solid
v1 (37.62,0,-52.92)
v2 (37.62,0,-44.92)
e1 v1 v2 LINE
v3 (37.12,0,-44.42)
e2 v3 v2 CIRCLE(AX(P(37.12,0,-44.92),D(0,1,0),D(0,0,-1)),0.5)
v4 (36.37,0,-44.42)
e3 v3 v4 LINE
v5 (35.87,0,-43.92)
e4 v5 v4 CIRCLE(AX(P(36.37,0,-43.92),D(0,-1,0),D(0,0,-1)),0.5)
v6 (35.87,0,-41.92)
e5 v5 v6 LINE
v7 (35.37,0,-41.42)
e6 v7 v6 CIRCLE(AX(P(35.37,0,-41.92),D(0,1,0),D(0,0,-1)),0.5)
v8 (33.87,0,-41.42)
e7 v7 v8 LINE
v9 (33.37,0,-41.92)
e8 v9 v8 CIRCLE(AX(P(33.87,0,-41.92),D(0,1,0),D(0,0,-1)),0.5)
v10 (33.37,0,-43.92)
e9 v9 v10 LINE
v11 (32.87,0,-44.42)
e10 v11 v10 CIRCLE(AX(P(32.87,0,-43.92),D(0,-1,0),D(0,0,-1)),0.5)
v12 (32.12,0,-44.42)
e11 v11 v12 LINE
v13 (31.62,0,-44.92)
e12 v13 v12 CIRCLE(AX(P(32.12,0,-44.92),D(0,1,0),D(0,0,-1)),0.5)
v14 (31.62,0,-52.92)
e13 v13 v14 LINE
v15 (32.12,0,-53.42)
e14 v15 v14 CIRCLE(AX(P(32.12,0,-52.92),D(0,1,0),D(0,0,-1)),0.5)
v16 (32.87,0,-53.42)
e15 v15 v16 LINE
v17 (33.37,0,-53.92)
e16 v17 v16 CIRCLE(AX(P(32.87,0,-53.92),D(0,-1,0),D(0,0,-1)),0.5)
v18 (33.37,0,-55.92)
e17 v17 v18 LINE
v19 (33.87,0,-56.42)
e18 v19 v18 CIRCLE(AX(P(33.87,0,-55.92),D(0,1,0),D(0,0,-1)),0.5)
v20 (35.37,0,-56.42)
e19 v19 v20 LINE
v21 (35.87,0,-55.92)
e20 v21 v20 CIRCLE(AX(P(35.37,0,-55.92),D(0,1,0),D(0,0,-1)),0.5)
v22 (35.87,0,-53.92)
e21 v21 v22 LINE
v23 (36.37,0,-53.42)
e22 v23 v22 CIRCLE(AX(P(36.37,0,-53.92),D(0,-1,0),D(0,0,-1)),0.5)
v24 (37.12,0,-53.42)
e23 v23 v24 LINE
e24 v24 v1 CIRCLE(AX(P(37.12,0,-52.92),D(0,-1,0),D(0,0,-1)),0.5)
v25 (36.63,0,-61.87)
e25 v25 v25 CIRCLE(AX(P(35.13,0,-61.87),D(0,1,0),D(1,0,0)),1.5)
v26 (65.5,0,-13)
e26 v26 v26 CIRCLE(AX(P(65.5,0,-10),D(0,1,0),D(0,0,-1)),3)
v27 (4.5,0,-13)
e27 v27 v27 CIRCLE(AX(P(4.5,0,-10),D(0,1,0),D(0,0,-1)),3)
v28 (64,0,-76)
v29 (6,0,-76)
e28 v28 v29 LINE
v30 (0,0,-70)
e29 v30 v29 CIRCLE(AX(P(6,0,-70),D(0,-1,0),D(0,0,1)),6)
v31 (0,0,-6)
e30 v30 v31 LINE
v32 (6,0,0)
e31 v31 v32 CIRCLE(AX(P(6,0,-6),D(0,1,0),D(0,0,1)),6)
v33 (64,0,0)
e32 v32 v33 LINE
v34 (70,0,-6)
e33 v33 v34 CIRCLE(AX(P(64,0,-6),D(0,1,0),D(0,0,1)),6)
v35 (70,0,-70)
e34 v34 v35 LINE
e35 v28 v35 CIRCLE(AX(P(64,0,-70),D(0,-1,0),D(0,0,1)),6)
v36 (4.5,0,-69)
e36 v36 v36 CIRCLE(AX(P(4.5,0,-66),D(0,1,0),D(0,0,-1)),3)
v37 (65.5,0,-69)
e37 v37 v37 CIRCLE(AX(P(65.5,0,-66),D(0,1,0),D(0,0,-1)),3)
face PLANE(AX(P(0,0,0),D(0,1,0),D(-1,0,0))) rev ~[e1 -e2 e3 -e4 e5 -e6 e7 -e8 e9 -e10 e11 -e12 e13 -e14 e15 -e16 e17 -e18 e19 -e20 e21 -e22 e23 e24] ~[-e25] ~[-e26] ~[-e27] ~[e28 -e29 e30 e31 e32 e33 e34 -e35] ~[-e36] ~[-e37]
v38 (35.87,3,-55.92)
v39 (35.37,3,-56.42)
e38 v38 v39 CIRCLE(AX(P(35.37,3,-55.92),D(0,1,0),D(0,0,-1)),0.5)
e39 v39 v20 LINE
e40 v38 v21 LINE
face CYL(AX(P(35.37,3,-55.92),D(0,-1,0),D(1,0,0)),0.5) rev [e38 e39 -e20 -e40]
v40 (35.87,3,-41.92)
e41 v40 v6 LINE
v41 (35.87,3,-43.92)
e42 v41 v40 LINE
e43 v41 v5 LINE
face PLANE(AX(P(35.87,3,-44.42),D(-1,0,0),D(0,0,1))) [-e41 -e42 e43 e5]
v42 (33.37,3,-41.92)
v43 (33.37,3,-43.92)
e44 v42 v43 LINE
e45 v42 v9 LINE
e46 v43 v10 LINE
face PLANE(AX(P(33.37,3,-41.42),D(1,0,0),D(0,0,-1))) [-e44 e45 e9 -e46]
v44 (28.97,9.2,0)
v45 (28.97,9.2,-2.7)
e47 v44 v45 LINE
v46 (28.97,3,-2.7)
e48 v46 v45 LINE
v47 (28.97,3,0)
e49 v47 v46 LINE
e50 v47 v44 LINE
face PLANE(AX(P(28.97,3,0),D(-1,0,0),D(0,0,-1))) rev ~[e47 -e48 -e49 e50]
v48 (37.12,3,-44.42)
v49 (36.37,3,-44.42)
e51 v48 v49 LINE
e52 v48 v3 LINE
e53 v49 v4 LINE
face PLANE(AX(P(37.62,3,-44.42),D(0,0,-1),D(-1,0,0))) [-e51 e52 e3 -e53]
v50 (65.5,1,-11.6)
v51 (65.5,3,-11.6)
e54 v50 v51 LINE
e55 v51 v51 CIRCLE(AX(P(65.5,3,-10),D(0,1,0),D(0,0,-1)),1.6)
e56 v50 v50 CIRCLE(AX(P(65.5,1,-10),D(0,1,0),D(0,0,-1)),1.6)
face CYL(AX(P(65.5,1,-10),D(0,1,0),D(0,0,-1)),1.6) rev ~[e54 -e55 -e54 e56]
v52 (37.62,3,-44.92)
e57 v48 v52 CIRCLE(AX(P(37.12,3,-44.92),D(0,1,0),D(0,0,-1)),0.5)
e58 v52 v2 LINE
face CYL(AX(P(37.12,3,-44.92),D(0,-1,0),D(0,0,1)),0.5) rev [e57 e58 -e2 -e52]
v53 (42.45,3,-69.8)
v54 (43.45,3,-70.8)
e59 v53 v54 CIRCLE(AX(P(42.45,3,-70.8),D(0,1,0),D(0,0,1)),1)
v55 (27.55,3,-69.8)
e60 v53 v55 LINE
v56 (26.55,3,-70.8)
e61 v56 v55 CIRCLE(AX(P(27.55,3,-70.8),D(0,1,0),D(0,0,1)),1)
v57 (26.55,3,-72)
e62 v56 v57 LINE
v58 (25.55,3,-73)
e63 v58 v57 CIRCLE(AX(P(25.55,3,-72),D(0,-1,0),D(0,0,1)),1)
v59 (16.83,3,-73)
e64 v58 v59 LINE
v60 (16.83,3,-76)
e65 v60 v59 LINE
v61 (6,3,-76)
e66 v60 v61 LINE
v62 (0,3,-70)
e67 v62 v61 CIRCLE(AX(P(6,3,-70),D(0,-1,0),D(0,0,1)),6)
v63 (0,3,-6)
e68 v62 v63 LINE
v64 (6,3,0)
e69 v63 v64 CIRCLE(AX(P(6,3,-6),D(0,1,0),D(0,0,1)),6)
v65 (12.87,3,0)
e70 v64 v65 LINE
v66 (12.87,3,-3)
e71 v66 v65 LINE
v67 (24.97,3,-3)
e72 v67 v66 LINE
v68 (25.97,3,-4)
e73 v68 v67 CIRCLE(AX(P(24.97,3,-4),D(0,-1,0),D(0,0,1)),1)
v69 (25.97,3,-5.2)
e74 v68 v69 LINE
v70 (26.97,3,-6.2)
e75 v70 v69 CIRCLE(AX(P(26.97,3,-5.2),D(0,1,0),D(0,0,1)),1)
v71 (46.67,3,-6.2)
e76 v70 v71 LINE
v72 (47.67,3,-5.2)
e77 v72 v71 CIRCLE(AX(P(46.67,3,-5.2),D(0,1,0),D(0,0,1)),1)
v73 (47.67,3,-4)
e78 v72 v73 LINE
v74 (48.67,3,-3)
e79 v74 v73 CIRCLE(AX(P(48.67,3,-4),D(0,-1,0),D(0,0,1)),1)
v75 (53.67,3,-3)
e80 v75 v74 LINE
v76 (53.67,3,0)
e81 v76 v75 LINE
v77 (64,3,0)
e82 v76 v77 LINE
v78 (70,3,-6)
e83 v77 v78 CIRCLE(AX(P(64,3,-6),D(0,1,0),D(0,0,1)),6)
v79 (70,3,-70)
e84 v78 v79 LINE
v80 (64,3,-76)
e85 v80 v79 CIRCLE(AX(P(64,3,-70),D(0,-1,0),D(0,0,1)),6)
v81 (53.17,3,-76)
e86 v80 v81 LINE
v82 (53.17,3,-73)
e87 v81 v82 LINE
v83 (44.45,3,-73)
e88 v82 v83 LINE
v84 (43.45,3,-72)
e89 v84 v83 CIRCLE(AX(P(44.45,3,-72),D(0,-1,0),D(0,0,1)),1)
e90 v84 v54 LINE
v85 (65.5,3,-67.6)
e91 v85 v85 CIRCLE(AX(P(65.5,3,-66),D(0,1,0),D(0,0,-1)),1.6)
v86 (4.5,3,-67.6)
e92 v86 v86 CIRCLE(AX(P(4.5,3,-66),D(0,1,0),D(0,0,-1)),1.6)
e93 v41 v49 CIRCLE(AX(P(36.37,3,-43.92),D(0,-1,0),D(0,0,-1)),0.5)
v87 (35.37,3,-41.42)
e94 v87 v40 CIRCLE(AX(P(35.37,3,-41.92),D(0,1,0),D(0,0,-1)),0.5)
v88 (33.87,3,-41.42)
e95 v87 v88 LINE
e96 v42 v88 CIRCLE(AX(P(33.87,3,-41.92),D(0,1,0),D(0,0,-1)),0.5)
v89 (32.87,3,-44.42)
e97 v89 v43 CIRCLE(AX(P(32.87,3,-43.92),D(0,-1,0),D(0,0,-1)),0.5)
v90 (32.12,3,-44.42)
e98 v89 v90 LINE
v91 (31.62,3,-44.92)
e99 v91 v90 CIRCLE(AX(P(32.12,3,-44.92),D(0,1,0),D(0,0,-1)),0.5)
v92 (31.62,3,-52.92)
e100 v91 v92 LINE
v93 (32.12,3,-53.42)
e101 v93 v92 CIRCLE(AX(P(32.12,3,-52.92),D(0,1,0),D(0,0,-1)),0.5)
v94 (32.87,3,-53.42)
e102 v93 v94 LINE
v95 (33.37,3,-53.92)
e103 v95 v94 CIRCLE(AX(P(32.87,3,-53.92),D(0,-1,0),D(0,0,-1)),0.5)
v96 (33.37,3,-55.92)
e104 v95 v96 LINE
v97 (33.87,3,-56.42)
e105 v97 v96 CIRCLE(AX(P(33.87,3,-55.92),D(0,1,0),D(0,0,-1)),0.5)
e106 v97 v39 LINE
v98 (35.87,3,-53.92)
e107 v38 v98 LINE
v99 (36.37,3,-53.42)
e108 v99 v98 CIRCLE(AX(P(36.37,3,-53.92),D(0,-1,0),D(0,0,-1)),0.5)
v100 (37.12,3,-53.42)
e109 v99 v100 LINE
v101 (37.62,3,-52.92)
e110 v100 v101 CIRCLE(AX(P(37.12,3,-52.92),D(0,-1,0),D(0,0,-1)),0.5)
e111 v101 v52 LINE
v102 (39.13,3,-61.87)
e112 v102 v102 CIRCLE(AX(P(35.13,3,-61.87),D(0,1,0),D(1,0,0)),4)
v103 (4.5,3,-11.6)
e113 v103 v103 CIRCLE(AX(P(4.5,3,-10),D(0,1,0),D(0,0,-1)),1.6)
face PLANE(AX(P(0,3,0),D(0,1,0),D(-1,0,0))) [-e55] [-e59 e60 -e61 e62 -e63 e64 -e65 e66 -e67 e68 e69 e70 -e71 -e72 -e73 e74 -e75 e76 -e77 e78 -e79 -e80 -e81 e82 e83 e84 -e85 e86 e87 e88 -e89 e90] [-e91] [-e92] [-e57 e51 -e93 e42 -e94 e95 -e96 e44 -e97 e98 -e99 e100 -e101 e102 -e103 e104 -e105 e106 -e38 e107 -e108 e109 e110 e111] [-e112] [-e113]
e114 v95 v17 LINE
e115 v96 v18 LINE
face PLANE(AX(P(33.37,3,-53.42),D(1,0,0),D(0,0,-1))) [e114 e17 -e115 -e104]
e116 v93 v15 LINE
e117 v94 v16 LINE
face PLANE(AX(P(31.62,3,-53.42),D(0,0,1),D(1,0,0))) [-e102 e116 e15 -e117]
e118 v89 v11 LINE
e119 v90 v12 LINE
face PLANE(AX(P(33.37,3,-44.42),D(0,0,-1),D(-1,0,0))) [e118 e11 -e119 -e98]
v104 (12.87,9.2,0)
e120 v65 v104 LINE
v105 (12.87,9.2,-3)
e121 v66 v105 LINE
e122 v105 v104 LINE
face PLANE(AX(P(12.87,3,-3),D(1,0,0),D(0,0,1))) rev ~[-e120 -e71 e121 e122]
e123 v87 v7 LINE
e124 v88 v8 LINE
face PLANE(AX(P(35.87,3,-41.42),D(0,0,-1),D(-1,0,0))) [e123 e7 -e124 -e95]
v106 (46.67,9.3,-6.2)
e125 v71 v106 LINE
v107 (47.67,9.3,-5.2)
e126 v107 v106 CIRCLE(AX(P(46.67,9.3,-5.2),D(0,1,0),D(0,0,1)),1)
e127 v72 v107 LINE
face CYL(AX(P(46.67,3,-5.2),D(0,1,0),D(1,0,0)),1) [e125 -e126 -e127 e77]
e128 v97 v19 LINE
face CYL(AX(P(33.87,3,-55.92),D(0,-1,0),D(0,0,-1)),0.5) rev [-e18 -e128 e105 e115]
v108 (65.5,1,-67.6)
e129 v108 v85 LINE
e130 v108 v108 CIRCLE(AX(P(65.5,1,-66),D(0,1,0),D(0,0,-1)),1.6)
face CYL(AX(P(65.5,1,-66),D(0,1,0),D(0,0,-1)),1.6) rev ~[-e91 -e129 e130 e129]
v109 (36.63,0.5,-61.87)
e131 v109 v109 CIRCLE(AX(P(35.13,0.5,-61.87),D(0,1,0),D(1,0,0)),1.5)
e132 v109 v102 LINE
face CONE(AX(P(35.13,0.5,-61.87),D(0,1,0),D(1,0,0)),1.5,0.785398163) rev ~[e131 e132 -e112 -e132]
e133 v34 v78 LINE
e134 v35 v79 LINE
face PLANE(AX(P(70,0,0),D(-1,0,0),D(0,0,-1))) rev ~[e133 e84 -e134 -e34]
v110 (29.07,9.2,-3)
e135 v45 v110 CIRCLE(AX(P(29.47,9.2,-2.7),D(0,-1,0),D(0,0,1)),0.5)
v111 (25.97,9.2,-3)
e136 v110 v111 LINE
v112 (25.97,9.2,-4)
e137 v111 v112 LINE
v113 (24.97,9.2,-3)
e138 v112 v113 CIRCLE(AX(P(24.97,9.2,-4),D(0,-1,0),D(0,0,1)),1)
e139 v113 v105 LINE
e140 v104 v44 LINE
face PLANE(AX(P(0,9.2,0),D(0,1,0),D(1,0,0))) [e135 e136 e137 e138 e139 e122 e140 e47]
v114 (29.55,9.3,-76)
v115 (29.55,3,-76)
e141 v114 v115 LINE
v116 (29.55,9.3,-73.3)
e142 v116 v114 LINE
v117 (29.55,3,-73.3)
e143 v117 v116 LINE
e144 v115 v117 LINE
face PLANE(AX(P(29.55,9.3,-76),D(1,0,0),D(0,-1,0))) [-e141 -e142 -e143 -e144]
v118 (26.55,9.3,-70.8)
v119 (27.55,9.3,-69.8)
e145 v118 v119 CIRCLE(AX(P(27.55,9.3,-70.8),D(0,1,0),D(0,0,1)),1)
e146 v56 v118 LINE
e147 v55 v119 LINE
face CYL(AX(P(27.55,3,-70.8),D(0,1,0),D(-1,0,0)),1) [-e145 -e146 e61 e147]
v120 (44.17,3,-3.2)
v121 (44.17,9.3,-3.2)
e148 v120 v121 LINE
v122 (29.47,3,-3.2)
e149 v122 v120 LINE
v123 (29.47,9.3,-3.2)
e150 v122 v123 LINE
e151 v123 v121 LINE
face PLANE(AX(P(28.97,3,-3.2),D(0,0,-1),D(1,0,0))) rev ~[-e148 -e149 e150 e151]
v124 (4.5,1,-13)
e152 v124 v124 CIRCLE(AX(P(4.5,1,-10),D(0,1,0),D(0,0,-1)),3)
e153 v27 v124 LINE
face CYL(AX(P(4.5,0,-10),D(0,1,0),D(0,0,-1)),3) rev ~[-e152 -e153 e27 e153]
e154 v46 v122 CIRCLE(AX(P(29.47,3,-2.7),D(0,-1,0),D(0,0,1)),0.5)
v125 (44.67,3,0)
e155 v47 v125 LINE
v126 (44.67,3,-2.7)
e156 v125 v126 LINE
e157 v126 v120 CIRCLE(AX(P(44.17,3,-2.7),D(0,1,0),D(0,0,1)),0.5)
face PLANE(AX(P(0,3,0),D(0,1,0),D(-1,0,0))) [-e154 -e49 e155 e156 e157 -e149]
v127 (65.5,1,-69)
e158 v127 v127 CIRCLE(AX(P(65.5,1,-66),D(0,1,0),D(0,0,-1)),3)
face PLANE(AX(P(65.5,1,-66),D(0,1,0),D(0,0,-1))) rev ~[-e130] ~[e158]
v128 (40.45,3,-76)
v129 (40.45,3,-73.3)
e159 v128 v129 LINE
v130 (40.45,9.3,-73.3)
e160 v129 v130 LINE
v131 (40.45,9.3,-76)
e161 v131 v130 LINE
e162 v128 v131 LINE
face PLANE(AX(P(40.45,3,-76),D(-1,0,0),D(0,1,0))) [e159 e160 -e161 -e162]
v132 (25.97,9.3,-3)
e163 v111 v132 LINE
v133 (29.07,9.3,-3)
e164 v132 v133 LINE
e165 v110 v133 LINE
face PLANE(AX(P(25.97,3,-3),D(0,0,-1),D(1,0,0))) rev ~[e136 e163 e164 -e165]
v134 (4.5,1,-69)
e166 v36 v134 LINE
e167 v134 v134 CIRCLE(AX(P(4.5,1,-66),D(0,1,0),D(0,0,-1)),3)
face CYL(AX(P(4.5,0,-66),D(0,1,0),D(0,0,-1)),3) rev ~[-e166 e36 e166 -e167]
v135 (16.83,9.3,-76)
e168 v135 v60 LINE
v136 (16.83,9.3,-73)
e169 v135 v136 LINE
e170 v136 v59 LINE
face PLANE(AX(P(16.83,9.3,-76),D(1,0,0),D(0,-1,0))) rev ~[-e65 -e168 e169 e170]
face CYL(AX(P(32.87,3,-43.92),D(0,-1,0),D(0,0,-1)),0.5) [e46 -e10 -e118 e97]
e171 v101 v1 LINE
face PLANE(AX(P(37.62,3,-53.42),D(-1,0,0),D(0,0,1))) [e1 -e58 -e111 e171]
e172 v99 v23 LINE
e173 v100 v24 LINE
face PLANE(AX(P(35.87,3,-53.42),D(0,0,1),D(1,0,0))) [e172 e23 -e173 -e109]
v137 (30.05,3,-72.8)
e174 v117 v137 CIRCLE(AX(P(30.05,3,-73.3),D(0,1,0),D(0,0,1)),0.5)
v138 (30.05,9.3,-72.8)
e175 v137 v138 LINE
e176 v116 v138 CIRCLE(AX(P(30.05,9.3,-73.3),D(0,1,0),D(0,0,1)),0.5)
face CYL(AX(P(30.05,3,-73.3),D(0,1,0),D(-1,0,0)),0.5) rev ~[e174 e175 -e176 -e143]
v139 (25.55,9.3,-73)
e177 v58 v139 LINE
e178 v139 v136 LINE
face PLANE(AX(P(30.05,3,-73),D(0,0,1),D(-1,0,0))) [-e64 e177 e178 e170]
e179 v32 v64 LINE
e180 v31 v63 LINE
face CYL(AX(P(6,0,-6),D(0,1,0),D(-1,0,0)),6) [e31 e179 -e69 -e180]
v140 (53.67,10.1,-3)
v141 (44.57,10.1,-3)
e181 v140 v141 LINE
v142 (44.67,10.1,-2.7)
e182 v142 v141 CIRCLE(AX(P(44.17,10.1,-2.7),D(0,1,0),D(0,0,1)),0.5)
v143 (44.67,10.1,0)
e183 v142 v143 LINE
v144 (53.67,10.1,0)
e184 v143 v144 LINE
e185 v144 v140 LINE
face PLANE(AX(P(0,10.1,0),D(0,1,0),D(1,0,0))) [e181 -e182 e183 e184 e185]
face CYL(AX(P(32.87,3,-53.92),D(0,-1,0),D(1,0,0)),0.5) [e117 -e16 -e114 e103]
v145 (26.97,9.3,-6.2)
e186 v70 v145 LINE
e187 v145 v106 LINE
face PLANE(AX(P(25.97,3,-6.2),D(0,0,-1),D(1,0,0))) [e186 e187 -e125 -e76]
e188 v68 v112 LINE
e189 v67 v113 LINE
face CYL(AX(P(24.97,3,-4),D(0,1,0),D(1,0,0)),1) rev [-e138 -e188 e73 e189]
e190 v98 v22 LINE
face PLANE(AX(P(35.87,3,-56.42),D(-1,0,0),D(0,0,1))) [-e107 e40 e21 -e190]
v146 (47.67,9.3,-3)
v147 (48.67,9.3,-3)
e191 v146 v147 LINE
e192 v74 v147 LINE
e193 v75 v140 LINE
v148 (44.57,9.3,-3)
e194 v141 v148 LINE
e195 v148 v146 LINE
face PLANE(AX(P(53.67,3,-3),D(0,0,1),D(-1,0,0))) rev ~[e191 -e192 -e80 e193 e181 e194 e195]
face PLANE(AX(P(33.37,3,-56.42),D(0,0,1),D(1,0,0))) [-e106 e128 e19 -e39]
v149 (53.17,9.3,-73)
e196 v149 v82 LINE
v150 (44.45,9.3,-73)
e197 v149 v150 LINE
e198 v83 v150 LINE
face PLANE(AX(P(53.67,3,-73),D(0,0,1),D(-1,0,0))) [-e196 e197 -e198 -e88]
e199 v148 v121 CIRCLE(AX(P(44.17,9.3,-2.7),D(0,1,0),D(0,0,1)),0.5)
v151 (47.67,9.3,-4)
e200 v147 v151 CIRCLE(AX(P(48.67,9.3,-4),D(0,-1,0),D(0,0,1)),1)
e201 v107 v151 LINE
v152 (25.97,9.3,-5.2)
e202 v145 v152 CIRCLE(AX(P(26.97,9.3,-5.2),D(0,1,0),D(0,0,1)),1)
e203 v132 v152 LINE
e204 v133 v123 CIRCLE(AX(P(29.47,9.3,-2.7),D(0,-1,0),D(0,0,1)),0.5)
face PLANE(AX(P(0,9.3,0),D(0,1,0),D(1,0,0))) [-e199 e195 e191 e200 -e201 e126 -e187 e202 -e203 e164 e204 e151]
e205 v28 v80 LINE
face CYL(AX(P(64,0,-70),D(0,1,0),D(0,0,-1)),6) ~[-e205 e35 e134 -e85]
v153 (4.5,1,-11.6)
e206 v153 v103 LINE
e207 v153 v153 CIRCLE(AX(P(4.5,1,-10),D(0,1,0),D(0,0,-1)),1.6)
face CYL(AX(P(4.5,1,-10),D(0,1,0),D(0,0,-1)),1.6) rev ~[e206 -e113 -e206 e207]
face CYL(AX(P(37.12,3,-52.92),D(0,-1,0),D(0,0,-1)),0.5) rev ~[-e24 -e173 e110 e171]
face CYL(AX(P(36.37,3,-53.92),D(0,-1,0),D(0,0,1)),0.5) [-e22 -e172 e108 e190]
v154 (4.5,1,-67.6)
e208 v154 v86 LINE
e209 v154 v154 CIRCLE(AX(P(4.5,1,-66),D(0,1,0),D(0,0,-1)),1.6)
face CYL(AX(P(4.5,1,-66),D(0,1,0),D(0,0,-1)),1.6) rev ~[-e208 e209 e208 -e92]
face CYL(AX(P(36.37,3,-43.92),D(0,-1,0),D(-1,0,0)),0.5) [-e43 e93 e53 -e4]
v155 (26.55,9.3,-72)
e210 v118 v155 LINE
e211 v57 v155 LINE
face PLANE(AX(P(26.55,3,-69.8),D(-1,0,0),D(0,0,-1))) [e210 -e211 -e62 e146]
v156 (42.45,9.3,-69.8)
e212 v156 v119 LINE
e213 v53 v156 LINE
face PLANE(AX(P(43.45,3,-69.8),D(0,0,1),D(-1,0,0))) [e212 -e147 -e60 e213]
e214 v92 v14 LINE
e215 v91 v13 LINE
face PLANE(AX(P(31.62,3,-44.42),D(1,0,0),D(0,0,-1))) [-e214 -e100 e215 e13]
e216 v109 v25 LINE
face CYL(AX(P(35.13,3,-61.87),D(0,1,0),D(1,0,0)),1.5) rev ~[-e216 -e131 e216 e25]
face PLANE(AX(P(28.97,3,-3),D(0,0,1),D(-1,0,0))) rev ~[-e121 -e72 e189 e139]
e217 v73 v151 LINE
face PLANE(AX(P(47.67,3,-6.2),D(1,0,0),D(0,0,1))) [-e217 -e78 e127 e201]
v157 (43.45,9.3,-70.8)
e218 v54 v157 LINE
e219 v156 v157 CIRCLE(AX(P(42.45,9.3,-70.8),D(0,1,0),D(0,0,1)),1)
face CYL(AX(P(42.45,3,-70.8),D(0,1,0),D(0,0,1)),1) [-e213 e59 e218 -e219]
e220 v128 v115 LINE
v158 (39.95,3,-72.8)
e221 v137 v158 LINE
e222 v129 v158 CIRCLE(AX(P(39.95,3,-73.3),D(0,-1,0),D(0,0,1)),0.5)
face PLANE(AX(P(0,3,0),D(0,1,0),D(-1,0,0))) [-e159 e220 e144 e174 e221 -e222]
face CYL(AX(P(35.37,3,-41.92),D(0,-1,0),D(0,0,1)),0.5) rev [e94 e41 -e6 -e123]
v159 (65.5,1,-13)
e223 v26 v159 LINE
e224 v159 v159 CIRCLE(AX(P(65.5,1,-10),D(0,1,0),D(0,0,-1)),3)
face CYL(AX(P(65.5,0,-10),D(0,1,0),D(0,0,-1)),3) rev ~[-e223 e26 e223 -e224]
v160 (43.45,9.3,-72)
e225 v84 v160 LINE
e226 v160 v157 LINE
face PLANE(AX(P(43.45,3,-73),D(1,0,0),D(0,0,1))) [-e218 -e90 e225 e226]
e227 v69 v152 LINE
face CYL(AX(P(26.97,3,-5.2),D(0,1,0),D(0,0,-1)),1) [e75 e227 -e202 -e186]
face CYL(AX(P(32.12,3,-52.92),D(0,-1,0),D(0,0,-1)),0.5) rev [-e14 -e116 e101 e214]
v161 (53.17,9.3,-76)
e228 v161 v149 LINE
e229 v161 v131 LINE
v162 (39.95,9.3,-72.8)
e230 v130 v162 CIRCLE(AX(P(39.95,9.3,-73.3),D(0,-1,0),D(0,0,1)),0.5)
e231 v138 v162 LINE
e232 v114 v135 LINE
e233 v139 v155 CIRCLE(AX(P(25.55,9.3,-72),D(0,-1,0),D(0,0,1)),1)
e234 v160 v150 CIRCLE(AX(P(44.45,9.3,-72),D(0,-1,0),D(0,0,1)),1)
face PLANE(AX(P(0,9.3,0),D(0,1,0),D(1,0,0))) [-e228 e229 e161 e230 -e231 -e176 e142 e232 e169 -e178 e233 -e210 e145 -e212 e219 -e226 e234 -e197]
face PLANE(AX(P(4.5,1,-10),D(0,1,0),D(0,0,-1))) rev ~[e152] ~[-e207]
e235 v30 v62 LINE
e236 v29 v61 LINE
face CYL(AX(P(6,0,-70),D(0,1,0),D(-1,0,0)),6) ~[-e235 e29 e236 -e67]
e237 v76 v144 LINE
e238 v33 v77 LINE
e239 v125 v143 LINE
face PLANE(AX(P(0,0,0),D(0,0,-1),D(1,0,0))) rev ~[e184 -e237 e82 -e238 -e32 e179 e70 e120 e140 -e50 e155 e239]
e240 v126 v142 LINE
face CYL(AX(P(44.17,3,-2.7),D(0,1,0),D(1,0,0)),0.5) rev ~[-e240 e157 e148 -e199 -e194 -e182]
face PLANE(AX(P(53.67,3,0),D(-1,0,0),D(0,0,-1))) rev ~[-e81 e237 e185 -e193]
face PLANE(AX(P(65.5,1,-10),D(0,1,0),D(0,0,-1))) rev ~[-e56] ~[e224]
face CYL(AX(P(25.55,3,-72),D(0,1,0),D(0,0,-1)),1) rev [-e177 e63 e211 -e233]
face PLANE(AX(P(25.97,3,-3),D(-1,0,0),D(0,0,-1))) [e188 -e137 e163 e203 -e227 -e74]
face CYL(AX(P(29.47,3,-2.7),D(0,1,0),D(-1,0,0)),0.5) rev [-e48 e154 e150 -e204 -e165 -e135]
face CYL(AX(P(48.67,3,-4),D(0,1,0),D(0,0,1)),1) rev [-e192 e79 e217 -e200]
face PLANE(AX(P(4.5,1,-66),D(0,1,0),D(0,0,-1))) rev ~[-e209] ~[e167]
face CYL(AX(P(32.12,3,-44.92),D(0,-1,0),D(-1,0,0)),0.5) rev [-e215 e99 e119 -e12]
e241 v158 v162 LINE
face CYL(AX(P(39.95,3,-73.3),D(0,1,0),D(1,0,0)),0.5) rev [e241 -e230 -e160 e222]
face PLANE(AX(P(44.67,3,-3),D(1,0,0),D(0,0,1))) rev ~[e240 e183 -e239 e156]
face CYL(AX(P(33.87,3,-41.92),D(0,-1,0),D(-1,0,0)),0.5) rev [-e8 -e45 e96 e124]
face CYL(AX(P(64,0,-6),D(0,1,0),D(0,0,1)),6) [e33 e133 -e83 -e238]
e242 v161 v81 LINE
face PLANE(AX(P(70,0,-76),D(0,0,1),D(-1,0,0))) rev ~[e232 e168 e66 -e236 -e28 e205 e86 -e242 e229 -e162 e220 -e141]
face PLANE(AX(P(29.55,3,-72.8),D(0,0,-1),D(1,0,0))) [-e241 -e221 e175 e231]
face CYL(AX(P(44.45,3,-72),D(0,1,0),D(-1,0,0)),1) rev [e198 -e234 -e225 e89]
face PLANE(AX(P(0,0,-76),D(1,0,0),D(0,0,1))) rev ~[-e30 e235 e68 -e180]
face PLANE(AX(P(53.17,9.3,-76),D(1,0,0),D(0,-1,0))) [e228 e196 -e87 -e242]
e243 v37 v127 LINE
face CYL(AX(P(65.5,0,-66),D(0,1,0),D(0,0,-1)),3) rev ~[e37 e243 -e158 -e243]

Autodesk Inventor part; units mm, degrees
ref_plane "YZ Plane" through (0, 0, 0) normal (1, 0, 0) x (0, 1, 0)
ref_plane "XZ Plane" through (0, 0, 0) normal (0, 1, 0) x (-1, 0, 0)
ref_plane "XY Plane" through (0, 0, 0) normal (0, 0, 1) x (1, 0, 0)
sketch "Sketch1" plane through (0, 0, 0) normal (0, 1, 0) x (-1, 0, 0)
  line L0 (0, 0) -> (-70, 0)
  line L1 (-70, 0) -> (-70, -76)
  line L2 (-70, -76) -> (0, -76)
  line L3 (0, -76) -> (0, 0)
  dimension "d0" = 70
  dimension "d1" = 76
extrude "Extrusion1" add sketch "Sketch1" along normal blind 3
sketch "Sketch2" plane through (0, 3, 0) normal (0, 1, 0) x (1, 0, 0)
  line L0 (70, 76) -> (0, 76) projected
  line L1 (16.33, 76) -> (30.05, 76)
  line L2 (30.05, 76) -> (30.05, 73)
  line L3 (30.05, 73) -> (16.33, 73)
  line L4 (16.33, 73) -> (16.33, 76)
  line L5 (39.95, 76) -> (53.67, 76)
  line L6 (53.67, 76) -> (53.67, 73)
  line L7 (53.67, 73) -> (39.95, 73)
  line L8 (39.95, 73) -> (39.95, 76)
  line L9 (30.05, 74.5) -> (39.95, 74.5) construction
  line L10 (0, 76) -> (0, 0) projected
  point P0 (23.19, 73)
  point P1 (46.81, 73)
  point P2 (35, 74.5)
  point P3 (35, 76)
  dimension "d4" = 13.72
  dimension "d5" = 13.72
  dimension "d6" = 3
  dimension "d29" = 16.33
extrude "Extrusion2" add sketch "Sketch2" along normal blind 6.3
sketch "Sketch3" plane through (0, 3, 0) normal (0, 1, 0) x (1, 0, 0)
  line L0 (0, 0) -> (70, 0) projected
  line L1 (44.67, 0) -> (53.67, 0)
  line L2 (53.67, 0) -> (53.67, 3)
  line L3 (53.67, 3) -> (44.67, 3)
  line L4 (44.67, 3) -> (44.67, 0)
  line L5 (53.67, 76) -> (53.67, 73) projected
  dimension "d10" = 9
  dimension "d11" = 3
extrude "Extrusion3" add sketch "Sketch3" along normal blind 7.1
sketch "Sketch4" plane through (0, 3, 0) normal (0, 1, 0) x (1, 0, 0)
  line L0 (16.33, 73) -> (16.33, 76) projected
  line L1 (0, 0) -> (44.67, 0) projected
  line L2 (44.67, 0) -> (44.67, 3) projected
  line L3 (12.87, 0) -> (28.97, 0)
  line L4 (28.97, 0) -> (28.97, 3)
  line L5 (28.97, 3) -> (12.87, 3)
  line L6 (12.87, 3) -> (12.87, 0)
  dimension "d16" = 16.1
  dimension "d17" = 15.7
extrude "Extrusion4" add sketch "Sketch4" along normal blind 6.2
sketch "Sketch5" plane through (0, 0, 0) normal (0, -1, 0) x (1, 0, 0)
  line L0 (0, 0) -> (70, 0) projected
  line L1 (0, -76) -> (0, 0) projected
  line L2 (4.5, -10) -> (65.5, -10) construction
  line L3 (65.5, -10) -> (65.5, -66) construction
  line L4 (65.5, -66) -> (4.5, -66) construction
  line L5 (4.5, -66) -> (4.5, -10) construction
  point P0 (35, -10)
  point P1 (35, 0)
  point P2 (4.5, -38)
  point P3 (0, -38)
  dimension "d20" = 10
  dimension "d21" = 4.5
hole "Hole1" at (4.5, 0, -10) at (4.5, 0, -66) at (65.5, 0, -66) at (65.5, 0, -10) direction (0, 1, 0) diameter 3.2 end through all counterbore diameter 6 counterbore depth 1
fillet "Fillet1" radius 6 4 edges at (0, 1.5, 0) (70, 1.5, 0) (70, 1.5, -76) (0, 1.5, -76)
sketch "Sketch6" plane through (0, 3, 0) normal (0, 1, 0) x (1, 0, 0)
  line L0 (16.33, 76) -> (6, 76) projected
  line L1 (13.03, 69.24) -> (56.97, 69.24) construction
  line L2 (0, 70) -> (70, 70) construction
  line L3 (13.03, 69.24) -> (13.03, 6.76) construction
  line L4 (6, 76) -> (6, 0) construction
  line L5 (37.62, 53.42) -> (37.62, 44.42)
  line L6 (31.62, 44.42) -> (31.62, 53.42)
  line L7 (33.37, 56.42) -> (35.87, 56.42)
  line L8 (35.87, 41.42) -> (33.37, 41.42)
  line L9 (31.62, 53.42) -> (33.37, 53.42)
  line L10 (35.87, 53.42) -> (37.62, 53.42)
  line L11 (37.62, 44.42) -> (35.87, 44.42)
  line L12 (33.37, 44.42) -> (31.62, 44.42)
  line L13 (33.37, 41.42) -> (33.37, 44.42)
  line L14 (33.37, 53.42) -> (33.37, 56.42)
  line L15 (35.87, 56.42) -> (35.87, 53.42)
  line L16 (35.87, 44.42) -> (35.87, 41.42)
  circle A0 centre (35.13, 61.87) radius 1.5
  point P0 (0, 0)
  point P1 (35, 69.24)
  point P2 (35, 70)
  point P3 (6, 38)
  point P4 (13.03, 38)
  point P5 (34.62, 56.42)
  point P6 (31.62, 48.92)
  dimension "d31" = 43.94
  dimension "d32" = 62.48
  dimension "d33" = 6
  dimension "d34" = 9
  dimension "d35" = 2.5
  dimension "d36" = 15
  dimension "d38" = 20.32
  dimension "d39" = 3
  dimension "d40" = 7.37
  dimension "d44" = 21.84
  dimension "d45" = 22.35
extrude "Extrusion5" cut sketch "Sketch6" against normal through all
fillet "Fillet2" radius 0.5 12 edges at (35.87, 1.5, -53.42) (33.37, 1.5, -53.42) (35.87, 1.5, -56.42) (33.37, 1.5, -56.42) (37.62, 1.5, -53.42) (37.62, 1.5, -44.42) (35.87, 1.5, -44.42) (35.87, 1.5, -41.42) (33.37, 1.5, -41.42) (33.37, 1.5, -44.42) (31.62, 1.5, -44.42) (31.62, 1.5, -53.42)
chamfer "Chamfer1" distance 2.5 angle 45 1 edges at (33.63, 3, -61.87)
sketch "Sketch7" plane through (30.05, 9.3, -76) normal (0, 0, -1) x (-1, 0, 0)
  line L0 (-9.9, -6.3) -> (-9.9, 0) projected
  line L1 (-23.62, 0) -> (-9.9, 0) projected
  line L2 (-33.95, -6.3) -> (-23.62, -6.3) projected
  line L3 (-23.62, 0) -> (-23.12, 0)
  line L4 (-23.12, 0) -> (-23.12, -6.3)
  line L5 (-23.12, -6.3) -> (-23.62, -6.3)
  line L6 (-23.62, -6.3) -> (-23.62, 0)
  line L7 (-10.4, 0) -> (-9.9, 0)
  line L8 (-9.9, 0) -> (-9.9, -6.3)
  line L9 (-9.9, -6.3) -> (-10.4, -6.3)
  line L10 (-10.4, -6.3) -> (-10.4, 0)
  line L11 (0, 0) -> (0.5, 0)
  line L12 (0.5, 0) -> (0.5, -6.3)
  line L13 (0.5, -6.3) -> (0, -6.3)
  line L14 (0, -6.3) -> (0, 0)
  line L15 (13.72, 0) -> (13.22, 0)
  line L16 (13.22, 0) -> (13.22, -6.3)
  line L17 (13.22, -6.3) -> (13.72, -6.3)
  line L18 (13.72, -6.3) -> (13.72, 0)
  point P0 (30.05, -9.3)
  dimension "d50" = 0.5
extrude "Extrusion6" cut sketch "Sketch7" against normal up to surface (3 mm away)
sketch "Sketch8" plane through (0, 3, 0) normal (0, 1, 0) x (1, 0, 0)
  line L0 (12.87, 3) -> (28.97, 3) projected
  line L1 (44.67, 0) -> (44.67, 3) projected
  line L2 (44.67, 3) -> (53.67, 3) projected
  line L3 (53.17, 73) -> (40.45, 73) projected
  line L4 (29.55, 73) -> (16.83, 73) projected
  line L5 (33.37, 41.92) -> (33.37, 43.92) projected
  line L6 (28.97, 3) -> (28.97, 3.2)
  line L7 (28.97, 3.2) -> (44.67, 3.2)
  line L8 (44.67, 3.2) -> (44.67, 3)
  line L9 (28.97, 3) -> (25.97, 3)
  line L10 (25.97, 3) -> (25.97, 6.2)
  line L11 (25.97, 6.2) -> (47.67, 6.2)
  line L12 (47.67, 6.2) -> (47.67, 3)
  line L13 (47.67, 3) -> (44.67, 3)
  line L14 (29.55, 73) -> (29.55, 72.8)
  line L15 (29.55, 72.8) -> (40.45, 72.8)
  line L16 (40.45, 72.8) -> (40.45, 73)
  line L17 (40.45, 73) -> (43.45, 73)
  line L18 (43.45, 73) -> (43.45, 69.8)
  line L19 (43.45, 69.8) -> (26.55, 69.8)
  line L20 (26.55, 69.8) -> (26.55, 73)
  line L21 (26.55, 73) -> (29.55, 73)
  point P0 (0, 0)
  dimension "d53" = 0.2
  dimension "d54" = 3
  dimension "d55" = 3
  dimension "d56" = 3
  dimension "d57" = 3
  dimension "d58" = 3
  dimension "d59" = 3
extrude "Extrusion7" add sketch "Sketch8" along normal up to surface (6.3 mm away)
fillet "Fillet3" radius 0.5 4 edges at (29.55, 6.15, -72.8) (40.45, 6.15, -72.8) (44.67, 6.15, -3.2) (28.97, 6.15, -3.2)
fillet "Fillet4" radius 1 8 edges at (43.45, 6.15, -73) (43.45, 6.15, -69.8) (26.55, 6.15, -73) (26.55, 6.15, -69.8) (47.67, 6.15, -3) (47.67, 6.15, -6.2) (25.97, 6.1, -3) (25.97, 6.15, -6.2)
equation "\"d5\" = d4"
equation "\"d55\" = d54"
equation "\"d56\" = d55"
equation "\"d57\" = d54"
equation "\"d58\" = d57"
equation "\"d59\" = d57"
properties part number "top"
